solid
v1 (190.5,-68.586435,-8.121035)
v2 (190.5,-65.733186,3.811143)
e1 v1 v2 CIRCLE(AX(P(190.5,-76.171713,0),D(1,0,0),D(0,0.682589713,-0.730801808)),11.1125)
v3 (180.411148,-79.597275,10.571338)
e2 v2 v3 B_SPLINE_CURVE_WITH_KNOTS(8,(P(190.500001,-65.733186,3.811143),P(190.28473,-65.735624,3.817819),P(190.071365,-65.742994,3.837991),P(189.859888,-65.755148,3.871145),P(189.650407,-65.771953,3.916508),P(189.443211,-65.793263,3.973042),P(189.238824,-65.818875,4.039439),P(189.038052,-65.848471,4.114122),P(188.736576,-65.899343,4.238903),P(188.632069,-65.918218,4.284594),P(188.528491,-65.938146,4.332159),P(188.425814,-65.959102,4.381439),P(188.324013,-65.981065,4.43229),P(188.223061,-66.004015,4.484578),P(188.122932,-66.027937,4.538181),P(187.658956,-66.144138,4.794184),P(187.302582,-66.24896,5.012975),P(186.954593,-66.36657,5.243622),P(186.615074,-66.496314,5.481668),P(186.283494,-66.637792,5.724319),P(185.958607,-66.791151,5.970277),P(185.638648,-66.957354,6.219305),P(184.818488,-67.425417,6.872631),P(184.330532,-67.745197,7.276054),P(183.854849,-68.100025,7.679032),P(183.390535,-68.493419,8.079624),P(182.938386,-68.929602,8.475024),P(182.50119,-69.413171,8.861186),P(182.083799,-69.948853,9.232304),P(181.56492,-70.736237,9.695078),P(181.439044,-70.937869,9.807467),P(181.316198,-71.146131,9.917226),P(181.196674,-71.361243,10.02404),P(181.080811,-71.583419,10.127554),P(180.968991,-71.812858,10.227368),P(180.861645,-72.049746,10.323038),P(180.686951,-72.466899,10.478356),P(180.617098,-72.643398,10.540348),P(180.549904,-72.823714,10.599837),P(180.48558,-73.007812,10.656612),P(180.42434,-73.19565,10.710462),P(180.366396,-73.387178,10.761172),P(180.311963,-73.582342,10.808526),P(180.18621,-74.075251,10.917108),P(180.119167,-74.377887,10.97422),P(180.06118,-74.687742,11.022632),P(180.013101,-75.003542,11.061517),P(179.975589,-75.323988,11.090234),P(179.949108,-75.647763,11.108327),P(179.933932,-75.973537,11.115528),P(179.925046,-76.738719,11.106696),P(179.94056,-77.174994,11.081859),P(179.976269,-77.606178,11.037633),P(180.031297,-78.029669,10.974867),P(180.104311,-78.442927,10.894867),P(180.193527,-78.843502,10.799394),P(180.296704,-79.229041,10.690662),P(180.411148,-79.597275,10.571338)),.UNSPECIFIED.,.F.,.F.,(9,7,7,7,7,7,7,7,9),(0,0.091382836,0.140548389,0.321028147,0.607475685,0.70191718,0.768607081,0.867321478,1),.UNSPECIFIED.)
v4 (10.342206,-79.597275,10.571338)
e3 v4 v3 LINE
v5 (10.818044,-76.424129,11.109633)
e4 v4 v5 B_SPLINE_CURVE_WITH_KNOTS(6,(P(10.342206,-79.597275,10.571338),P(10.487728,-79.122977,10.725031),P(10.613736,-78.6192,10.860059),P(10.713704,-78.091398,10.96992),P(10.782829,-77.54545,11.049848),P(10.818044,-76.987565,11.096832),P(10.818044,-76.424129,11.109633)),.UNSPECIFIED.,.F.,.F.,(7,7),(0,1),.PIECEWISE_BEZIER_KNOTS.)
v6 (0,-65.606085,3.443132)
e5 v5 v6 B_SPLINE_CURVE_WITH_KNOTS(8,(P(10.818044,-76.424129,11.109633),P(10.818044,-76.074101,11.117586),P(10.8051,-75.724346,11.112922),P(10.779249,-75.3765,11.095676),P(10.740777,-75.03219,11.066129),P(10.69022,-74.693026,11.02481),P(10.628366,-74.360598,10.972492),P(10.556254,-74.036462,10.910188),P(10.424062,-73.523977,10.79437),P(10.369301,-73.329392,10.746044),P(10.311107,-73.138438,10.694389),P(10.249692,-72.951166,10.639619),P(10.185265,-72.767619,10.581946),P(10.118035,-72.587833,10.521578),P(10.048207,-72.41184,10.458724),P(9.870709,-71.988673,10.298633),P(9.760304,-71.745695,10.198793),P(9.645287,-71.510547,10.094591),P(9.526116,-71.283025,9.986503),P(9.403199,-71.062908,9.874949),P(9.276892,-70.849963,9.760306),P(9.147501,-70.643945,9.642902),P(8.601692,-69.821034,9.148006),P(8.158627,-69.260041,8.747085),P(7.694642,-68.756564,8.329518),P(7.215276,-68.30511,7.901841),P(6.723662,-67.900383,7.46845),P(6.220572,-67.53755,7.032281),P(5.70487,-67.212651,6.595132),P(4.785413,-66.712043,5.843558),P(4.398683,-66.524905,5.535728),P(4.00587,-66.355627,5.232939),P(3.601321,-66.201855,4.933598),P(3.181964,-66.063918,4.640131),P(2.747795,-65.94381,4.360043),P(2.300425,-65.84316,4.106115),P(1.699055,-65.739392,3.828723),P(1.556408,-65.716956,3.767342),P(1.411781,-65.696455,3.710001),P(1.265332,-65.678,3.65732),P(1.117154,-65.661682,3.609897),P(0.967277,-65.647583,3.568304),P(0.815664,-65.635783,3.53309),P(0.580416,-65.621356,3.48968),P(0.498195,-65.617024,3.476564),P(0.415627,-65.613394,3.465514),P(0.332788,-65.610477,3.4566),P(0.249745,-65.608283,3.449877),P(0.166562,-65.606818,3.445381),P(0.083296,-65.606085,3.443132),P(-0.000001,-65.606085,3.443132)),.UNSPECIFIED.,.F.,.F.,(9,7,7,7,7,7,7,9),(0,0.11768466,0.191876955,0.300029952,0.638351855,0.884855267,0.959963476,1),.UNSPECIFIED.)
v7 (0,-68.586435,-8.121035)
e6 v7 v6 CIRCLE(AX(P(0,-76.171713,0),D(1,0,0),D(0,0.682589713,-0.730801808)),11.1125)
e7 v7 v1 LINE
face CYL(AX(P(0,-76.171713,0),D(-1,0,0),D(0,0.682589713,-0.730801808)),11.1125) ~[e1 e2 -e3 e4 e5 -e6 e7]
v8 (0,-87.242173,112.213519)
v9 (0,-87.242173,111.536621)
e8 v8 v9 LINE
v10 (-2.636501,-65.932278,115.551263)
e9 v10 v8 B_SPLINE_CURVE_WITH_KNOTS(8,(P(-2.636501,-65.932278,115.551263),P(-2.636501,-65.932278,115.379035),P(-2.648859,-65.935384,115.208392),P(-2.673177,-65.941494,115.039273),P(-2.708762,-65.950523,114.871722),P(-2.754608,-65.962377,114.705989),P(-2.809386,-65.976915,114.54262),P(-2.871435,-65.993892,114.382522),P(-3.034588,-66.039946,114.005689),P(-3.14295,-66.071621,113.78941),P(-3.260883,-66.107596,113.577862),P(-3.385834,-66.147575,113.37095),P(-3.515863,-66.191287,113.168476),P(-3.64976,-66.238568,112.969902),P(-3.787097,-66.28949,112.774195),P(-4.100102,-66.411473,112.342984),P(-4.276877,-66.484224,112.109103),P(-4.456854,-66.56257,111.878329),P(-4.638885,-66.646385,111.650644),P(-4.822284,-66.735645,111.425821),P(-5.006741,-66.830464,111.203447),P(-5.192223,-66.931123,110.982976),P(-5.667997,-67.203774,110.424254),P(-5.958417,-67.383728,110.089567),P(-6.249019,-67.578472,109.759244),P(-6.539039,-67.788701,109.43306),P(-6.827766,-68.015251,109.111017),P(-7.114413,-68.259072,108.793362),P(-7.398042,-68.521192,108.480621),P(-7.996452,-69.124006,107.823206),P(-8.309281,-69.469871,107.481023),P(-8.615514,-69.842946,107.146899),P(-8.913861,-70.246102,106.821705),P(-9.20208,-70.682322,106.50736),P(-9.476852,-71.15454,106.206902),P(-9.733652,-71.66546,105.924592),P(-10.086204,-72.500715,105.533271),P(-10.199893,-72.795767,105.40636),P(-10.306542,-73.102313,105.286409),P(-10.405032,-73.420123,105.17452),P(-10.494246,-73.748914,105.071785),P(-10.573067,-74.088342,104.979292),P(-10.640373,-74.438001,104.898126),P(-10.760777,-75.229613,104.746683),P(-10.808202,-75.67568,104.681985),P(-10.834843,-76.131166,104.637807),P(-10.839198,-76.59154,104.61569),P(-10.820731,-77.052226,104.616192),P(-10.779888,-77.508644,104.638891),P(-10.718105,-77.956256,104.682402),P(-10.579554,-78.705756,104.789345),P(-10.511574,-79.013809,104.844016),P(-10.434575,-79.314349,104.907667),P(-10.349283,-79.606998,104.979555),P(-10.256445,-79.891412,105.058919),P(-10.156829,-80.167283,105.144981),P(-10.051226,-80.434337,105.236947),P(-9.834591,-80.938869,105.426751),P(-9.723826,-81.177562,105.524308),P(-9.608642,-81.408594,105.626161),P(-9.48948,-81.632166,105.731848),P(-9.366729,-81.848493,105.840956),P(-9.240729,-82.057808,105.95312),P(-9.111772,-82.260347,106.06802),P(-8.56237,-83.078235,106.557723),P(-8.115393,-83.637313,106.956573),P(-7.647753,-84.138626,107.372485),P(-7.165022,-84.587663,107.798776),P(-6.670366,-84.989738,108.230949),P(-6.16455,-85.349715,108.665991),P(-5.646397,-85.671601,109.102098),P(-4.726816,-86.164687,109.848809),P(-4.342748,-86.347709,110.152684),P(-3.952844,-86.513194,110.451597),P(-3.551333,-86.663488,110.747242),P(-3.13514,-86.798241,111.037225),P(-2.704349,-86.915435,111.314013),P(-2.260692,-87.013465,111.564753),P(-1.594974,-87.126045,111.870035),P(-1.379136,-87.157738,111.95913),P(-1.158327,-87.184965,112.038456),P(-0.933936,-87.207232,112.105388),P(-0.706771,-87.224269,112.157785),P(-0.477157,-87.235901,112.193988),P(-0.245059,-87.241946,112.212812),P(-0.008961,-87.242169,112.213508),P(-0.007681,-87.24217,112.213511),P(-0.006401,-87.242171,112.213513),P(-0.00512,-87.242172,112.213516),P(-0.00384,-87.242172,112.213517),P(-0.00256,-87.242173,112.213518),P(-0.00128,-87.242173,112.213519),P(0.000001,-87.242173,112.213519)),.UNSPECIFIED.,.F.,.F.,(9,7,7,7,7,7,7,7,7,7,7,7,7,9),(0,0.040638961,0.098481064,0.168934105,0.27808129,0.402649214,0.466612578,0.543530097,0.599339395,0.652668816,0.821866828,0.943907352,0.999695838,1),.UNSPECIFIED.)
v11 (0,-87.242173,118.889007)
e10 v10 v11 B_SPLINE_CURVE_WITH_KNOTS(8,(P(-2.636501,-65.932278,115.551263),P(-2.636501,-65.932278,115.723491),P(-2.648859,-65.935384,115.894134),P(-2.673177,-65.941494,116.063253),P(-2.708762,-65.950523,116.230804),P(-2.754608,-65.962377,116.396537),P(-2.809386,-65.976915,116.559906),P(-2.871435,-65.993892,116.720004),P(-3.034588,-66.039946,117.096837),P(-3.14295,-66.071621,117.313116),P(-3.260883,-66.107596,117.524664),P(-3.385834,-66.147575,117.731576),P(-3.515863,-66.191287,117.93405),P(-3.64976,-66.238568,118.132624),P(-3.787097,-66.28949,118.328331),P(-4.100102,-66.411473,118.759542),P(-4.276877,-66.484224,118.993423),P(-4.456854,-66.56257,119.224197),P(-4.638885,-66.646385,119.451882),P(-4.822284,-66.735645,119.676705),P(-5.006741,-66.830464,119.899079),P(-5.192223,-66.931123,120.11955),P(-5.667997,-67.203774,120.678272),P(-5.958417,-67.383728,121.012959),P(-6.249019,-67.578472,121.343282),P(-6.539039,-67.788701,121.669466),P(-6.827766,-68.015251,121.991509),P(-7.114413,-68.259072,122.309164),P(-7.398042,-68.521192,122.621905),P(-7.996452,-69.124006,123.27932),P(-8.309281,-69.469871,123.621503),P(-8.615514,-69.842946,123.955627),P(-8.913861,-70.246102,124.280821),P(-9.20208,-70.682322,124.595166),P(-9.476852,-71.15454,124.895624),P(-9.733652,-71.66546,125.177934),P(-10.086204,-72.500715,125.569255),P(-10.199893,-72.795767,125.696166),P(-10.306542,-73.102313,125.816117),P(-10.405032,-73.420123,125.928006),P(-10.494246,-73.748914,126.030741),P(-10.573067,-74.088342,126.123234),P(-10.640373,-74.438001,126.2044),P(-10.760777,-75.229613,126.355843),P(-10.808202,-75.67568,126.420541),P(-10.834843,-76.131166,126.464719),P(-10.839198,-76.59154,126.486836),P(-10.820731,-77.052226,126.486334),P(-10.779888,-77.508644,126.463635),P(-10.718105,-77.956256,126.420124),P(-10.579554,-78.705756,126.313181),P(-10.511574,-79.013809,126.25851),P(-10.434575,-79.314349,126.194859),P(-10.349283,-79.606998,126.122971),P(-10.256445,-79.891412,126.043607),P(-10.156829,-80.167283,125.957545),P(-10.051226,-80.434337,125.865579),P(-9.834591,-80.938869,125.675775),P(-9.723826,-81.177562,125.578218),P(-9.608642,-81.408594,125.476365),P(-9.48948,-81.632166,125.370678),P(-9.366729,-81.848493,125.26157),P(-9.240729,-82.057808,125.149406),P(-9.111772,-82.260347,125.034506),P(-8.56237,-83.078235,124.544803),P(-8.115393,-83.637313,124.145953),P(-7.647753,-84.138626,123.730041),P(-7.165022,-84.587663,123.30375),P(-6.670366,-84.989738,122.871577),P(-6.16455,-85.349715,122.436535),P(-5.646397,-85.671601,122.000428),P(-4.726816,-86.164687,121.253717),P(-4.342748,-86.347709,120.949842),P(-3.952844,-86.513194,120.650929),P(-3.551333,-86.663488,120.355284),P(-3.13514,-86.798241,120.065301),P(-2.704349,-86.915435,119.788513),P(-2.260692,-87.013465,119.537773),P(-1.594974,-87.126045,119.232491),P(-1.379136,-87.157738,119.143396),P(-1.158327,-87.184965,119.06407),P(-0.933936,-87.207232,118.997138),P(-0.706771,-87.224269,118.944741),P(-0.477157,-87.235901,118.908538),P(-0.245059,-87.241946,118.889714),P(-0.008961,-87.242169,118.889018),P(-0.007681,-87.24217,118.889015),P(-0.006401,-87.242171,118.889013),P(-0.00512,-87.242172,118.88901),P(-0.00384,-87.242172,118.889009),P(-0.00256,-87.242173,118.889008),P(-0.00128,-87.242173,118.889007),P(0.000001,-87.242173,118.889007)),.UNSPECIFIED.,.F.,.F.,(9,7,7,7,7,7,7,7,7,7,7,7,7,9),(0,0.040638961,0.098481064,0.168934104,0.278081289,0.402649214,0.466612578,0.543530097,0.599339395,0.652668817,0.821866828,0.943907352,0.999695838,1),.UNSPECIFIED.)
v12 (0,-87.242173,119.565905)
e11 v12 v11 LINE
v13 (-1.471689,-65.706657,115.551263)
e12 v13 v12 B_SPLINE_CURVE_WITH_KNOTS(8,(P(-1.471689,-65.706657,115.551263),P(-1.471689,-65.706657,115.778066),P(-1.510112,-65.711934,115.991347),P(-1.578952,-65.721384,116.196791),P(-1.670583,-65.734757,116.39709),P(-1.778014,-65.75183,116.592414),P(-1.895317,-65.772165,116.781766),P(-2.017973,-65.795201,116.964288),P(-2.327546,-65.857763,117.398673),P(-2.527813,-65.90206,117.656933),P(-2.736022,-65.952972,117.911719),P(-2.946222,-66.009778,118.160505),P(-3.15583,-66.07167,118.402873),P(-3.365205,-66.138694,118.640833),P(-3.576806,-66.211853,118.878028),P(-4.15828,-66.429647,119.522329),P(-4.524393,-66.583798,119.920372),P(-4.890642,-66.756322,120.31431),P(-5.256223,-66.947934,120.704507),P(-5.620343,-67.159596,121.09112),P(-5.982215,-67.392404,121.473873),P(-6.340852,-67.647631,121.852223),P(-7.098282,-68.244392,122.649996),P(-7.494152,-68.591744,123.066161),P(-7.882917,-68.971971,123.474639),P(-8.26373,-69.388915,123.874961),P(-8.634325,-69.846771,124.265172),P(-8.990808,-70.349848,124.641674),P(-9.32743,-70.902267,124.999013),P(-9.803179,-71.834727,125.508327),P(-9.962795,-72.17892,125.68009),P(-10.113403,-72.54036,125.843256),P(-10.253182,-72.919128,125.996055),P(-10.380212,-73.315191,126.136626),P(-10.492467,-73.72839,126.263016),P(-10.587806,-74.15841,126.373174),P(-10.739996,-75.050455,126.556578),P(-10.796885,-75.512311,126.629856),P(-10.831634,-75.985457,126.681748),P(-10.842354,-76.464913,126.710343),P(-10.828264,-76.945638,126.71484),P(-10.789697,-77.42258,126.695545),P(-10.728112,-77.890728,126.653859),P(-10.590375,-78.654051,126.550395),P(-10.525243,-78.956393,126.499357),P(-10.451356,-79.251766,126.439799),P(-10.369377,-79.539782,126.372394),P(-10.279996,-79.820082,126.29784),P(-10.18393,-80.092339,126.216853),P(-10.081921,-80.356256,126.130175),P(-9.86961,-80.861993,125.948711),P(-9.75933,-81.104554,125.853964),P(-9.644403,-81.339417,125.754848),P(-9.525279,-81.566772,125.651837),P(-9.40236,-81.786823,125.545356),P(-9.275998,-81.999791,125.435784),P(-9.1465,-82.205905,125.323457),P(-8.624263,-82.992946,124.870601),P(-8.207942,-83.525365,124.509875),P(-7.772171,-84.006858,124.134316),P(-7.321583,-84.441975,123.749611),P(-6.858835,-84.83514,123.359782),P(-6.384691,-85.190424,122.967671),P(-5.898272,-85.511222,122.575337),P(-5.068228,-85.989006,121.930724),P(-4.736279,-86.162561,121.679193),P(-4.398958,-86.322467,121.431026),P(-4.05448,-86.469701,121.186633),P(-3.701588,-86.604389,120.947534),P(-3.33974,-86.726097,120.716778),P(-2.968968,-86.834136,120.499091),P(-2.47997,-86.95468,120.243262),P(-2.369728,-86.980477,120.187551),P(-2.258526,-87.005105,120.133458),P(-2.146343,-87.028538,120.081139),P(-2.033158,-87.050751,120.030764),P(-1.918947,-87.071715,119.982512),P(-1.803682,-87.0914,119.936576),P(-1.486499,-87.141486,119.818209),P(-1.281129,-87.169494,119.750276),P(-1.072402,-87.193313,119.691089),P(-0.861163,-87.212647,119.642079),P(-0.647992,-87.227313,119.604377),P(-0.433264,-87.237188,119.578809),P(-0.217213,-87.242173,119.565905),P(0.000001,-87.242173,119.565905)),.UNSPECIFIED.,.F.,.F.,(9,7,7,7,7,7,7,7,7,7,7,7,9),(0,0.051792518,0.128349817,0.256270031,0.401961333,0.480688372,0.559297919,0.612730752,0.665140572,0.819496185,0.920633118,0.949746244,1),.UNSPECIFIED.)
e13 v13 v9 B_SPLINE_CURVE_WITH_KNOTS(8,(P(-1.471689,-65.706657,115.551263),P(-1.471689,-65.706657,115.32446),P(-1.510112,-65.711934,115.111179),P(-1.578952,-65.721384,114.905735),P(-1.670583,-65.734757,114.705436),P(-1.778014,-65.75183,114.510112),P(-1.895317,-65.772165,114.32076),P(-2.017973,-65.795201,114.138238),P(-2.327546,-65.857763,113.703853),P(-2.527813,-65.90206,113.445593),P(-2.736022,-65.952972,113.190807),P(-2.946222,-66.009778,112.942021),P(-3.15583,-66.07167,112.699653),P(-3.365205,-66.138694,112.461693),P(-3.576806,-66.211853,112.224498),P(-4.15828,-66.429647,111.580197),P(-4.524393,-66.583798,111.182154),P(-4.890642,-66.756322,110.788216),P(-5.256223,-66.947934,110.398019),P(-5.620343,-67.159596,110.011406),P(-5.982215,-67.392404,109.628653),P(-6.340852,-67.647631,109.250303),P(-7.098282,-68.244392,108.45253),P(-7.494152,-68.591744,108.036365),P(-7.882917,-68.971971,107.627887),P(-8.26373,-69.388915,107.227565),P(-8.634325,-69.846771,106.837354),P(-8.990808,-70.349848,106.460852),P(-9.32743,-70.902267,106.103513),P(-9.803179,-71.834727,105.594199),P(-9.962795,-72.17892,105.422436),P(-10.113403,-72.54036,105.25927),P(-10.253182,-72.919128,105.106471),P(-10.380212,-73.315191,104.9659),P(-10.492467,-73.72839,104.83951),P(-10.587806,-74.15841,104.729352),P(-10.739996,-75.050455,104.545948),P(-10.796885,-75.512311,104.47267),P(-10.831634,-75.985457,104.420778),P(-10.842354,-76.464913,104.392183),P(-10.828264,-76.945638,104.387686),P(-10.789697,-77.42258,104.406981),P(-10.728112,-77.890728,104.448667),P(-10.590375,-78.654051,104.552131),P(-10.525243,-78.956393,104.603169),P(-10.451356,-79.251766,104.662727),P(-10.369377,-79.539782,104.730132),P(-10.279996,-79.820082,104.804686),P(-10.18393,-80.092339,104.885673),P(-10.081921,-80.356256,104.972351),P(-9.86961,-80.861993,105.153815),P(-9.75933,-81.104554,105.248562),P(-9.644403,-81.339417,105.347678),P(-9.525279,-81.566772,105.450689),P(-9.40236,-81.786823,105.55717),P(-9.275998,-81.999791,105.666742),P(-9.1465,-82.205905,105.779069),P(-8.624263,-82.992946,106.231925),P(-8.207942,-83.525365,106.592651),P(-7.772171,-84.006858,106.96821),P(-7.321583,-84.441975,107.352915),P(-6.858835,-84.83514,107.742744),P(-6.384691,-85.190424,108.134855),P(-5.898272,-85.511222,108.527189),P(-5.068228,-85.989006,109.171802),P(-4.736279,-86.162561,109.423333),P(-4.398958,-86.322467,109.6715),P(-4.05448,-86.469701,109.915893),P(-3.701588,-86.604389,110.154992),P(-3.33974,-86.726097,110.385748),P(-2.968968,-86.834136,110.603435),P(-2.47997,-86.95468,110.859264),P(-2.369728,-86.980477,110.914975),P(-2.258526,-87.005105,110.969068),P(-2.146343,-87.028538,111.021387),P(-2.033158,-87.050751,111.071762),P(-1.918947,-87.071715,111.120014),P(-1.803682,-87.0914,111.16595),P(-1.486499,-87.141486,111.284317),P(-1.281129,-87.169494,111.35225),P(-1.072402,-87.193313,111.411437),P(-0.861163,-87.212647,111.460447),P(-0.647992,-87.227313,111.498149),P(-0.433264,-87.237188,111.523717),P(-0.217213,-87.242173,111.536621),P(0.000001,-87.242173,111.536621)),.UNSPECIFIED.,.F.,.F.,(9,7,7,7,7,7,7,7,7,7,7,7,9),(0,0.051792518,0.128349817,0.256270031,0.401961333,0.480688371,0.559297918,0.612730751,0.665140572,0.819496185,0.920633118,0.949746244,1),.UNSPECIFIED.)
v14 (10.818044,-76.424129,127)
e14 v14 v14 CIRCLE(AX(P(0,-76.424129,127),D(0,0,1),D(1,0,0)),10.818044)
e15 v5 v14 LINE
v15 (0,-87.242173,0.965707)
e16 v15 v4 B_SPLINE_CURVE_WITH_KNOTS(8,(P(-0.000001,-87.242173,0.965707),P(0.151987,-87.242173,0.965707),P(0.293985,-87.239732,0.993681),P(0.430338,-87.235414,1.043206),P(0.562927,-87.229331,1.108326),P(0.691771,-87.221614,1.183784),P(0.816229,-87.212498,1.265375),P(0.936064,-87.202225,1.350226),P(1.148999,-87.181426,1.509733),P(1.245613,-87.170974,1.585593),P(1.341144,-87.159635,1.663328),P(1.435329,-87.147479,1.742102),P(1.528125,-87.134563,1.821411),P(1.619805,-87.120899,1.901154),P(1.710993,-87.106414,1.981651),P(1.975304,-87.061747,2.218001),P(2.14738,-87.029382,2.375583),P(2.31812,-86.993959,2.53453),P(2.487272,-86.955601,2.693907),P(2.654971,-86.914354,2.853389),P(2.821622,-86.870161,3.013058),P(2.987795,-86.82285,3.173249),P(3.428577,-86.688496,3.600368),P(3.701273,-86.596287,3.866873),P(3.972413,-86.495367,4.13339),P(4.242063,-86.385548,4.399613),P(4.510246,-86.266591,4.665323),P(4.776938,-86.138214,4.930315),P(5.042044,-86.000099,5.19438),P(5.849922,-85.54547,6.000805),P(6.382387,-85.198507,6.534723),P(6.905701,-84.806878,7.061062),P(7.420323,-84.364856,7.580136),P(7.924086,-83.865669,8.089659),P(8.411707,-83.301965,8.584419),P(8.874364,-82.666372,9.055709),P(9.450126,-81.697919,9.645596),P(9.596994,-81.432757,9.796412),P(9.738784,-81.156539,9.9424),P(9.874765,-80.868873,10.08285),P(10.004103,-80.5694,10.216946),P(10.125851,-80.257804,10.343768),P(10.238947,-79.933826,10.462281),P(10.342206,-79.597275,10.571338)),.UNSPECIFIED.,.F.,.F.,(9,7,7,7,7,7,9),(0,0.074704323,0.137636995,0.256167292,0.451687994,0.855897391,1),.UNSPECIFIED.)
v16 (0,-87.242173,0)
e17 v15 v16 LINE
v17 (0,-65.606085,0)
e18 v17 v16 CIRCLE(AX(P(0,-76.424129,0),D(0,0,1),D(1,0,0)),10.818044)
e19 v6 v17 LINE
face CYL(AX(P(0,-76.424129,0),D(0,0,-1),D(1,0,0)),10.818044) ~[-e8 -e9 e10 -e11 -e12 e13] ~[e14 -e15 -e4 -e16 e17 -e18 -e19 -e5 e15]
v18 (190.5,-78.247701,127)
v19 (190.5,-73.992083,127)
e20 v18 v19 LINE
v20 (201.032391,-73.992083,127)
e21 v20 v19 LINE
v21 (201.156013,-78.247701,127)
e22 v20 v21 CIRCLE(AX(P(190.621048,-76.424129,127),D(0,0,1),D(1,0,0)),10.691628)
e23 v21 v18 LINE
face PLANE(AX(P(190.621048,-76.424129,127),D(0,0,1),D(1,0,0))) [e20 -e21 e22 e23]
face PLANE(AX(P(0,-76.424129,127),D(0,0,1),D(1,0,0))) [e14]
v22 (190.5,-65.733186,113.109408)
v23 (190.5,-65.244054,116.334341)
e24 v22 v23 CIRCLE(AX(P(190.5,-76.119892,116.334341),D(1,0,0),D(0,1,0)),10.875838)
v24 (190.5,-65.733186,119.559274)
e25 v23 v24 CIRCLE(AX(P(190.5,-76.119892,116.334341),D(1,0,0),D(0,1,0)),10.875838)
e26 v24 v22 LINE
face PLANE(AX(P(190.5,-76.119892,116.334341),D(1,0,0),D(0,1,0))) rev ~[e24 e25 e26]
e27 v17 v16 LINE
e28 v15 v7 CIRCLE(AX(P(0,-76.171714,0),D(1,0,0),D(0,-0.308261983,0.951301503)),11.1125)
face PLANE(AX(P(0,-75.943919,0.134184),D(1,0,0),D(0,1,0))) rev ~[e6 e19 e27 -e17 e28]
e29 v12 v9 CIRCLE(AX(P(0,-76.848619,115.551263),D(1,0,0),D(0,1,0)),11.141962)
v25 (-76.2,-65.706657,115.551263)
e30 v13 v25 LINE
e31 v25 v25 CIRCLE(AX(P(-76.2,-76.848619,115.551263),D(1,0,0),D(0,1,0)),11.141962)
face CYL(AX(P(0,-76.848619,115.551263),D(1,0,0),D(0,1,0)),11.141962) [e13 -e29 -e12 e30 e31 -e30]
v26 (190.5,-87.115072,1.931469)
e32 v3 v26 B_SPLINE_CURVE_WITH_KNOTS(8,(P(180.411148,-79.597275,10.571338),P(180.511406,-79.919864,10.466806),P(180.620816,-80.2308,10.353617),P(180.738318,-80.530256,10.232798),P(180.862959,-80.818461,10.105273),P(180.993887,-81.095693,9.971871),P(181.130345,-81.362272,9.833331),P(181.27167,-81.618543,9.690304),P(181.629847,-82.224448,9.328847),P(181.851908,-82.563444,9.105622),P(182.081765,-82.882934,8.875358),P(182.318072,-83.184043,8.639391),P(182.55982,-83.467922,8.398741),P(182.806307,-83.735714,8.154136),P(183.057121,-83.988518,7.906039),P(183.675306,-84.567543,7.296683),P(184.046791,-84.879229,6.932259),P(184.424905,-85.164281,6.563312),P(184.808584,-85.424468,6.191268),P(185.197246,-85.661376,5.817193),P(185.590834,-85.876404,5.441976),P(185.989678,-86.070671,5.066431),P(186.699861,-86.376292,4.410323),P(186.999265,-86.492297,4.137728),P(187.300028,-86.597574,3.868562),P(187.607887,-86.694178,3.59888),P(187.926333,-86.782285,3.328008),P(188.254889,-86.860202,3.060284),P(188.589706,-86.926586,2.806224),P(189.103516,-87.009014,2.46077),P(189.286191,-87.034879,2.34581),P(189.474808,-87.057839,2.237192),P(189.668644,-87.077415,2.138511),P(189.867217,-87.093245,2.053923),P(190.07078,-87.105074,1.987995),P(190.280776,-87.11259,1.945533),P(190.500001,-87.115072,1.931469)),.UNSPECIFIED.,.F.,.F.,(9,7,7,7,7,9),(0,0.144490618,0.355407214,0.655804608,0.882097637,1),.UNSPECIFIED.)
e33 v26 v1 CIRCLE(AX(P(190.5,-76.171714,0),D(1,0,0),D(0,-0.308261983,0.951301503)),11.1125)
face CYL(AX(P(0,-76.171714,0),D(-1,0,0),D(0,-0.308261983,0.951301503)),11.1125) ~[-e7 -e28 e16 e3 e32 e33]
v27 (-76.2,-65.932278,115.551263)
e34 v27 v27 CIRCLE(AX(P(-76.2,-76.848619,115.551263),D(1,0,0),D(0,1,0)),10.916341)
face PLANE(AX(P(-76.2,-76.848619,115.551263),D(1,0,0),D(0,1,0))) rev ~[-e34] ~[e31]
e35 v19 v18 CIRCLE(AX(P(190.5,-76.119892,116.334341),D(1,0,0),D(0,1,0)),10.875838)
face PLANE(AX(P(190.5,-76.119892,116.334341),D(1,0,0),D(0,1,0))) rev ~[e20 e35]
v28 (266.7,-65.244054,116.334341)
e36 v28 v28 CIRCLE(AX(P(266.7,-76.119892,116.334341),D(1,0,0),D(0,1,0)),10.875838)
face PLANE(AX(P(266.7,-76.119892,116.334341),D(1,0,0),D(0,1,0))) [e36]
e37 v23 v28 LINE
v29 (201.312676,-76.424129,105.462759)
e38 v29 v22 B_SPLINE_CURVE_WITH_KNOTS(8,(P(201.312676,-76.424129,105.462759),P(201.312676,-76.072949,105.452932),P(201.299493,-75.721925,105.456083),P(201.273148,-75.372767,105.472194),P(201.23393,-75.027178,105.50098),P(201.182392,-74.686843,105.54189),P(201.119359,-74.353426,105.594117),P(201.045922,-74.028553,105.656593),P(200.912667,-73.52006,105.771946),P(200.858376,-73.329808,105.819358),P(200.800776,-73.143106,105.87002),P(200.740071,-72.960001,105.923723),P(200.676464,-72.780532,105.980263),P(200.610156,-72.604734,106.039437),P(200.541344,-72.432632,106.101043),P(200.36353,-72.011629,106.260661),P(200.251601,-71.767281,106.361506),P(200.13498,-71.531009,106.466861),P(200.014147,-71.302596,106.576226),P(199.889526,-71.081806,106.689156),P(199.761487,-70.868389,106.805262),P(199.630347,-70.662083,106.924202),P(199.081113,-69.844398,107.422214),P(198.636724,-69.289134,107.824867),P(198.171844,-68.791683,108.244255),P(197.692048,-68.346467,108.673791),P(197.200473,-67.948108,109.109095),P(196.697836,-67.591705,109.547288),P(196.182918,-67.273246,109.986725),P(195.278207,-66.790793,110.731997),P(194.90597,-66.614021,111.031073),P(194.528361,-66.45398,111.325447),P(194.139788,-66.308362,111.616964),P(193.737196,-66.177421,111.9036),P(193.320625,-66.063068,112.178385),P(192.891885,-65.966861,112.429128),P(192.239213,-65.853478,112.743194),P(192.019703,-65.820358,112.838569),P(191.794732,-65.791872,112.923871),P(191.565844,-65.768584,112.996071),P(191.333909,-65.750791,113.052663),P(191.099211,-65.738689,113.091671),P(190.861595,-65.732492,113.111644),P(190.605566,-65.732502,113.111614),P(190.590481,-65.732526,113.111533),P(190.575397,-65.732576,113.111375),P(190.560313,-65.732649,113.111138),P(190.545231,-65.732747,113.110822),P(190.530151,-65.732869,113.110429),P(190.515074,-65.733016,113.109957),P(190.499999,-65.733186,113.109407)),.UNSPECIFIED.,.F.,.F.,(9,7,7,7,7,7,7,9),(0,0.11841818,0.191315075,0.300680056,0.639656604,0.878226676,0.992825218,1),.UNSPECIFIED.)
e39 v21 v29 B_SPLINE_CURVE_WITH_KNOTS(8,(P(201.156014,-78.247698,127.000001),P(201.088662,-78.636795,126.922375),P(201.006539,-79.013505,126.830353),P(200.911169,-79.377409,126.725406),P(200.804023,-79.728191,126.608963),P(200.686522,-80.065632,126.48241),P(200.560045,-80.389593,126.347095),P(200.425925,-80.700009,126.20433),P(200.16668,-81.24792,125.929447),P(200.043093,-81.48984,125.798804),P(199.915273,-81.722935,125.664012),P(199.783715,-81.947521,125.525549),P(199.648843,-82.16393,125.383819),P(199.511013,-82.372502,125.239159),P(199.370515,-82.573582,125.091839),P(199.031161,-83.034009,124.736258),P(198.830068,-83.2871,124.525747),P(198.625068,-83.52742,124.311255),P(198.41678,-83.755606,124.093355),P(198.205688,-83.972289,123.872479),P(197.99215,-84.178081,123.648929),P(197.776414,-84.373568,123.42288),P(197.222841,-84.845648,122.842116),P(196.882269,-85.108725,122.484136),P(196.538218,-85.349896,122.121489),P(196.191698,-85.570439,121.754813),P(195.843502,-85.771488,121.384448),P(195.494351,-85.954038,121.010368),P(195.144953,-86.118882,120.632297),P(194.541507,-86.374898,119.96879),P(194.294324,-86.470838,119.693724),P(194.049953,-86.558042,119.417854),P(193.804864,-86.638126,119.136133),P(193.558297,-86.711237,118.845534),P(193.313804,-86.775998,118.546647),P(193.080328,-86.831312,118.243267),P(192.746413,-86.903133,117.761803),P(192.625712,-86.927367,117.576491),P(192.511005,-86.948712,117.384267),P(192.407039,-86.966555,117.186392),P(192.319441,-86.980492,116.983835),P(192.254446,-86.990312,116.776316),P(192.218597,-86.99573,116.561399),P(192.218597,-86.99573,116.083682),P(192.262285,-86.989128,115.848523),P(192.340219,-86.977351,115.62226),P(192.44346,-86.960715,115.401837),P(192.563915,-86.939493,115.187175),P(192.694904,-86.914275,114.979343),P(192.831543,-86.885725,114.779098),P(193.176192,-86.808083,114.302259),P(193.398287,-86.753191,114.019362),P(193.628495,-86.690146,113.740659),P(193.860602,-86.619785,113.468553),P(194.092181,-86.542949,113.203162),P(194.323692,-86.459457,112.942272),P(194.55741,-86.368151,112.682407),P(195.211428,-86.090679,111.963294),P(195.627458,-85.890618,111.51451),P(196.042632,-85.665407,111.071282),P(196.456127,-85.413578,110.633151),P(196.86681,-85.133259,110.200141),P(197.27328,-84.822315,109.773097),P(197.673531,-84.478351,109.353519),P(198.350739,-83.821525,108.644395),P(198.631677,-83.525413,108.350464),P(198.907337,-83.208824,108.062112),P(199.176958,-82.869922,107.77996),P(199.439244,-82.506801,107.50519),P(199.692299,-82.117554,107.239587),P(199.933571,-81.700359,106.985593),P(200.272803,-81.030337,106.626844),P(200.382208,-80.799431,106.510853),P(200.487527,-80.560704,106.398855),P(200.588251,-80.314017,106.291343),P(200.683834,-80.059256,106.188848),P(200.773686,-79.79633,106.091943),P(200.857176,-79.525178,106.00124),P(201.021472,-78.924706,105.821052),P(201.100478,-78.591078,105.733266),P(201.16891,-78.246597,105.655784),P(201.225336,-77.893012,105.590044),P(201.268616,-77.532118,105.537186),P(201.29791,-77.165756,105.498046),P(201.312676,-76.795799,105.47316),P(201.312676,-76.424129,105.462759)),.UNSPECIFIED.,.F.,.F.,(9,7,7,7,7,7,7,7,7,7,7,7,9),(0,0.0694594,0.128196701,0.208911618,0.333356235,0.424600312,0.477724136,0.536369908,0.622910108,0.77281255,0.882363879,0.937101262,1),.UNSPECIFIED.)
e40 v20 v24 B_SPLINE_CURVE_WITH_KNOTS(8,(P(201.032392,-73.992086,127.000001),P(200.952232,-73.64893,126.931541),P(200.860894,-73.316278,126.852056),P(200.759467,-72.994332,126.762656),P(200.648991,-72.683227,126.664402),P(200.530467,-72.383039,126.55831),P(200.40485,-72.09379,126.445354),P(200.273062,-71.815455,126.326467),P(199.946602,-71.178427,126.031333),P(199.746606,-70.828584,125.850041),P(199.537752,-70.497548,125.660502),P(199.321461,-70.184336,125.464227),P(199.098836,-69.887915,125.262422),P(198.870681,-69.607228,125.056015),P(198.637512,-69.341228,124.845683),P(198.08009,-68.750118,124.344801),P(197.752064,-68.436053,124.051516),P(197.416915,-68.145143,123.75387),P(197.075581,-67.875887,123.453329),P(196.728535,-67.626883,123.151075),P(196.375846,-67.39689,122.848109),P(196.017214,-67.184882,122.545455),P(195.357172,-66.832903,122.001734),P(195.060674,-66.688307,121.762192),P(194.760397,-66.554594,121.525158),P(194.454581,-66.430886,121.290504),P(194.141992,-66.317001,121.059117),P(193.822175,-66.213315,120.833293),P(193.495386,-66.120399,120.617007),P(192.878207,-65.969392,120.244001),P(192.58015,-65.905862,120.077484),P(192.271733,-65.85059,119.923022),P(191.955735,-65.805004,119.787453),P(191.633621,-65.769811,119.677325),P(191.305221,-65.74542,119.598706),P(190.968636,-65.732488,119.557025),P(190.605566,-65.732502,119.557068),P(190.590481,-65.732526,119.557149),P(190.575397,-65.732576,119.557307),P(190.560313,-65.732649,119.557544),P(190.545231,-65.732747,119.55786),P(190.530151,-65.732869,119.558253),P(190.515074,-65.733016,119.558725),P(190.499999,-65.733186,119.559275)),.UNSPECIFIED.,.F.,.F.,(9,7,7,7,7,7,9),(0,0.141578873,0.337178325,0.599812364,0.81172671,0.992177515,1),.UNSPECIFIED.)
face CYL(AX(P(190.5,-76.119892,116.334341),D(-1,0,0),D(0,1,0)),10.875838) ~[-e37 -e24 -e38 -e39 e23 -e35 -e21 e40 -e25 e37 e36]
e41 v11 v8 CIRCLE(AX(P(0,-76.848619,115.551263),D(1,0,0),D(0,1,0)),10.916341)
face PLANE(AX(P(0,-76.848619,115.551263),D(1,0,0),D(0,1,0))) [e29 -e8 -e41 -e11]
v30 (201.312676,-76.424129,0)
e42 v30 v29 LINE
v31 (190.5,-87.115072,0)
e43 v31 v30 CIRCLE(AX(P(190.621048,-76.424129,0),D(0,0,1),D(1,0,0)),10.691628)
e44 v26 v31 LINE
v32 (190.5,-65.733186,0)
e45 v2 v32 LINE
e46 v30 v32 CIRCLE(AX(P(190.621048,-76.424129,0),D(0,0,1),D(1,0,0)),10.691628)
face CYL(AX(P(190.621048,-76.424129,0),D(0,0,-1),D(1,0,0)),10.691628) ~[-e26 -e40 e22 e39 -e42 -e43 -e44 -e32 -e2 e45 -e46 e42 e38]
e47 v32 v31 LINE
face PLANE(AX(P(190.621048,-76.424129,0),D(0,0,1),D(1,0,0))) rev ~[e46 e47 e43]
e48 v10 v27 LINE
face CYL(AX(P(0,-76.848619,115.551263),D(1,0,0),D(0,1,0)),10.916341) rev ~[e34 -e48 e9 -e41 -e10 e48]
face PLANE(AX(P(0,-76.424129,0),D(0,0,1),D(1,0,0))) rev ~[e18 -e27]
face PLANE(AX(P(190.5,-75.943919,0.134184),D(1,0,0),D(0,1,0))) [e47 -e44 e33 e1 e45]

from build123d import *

# Parameters (mm, degrees)
F1_DEPTH = 190.5
F2_R     = 10.818044
F3_DEPTH = 127
F2_R_2   = 10.691628
F4_DEPTH = 127
F5_R     = 11.141962
F5_R_2   = 10.916341
F6_DEPTH = 76.2
F7_R     = 10.875838
F8_DEPTH = 76.2


with BuildPart() as f1:
    # F0 (on Right) → F1 (new body)
    with BuildSketch(Plane.YZ):
        with BuildLine():
            ThreePointArc((-79.597275, 10.571338), (-85.746525, -5.640093), (-68.586435, -8.121035))
            ThreePointArc((-68.586435, -8.121035), (-66.596902, 5.640093), (-79.597275, 10.571338))
        make_face()
    extrude(amount=F1_DEPTH)

    # F2 (on Top) → F3 (join)
    with BuildSketch(Plane.XY):
        with Locations((0, -76.424129)):
            Circle(F2_R)
    extrude(amount=F3_DEPTH)

    # F2 (on Top) → F4 (join)
    with BuildSketch(Plane.XY):
        with Locations((0, -76.424129)):
            Circle(F2_R)
        with Locations((190.621048, -76.424129)):
            Circle(F2_R_2)
    extrude(amount=F4_DEPTH)

    # F5 (on Right) → F6 (join)
    with BuildSketch(Plane.YZ):
        with Locations((-76.848619, 115.551263)):
            Circle(F5_R)
        with Locations((-76.848619, 115.551263)):
            Circle(F5_R_2, mode=Mode.SUBTRACT)
    extrude(amount=-F6_DEPTH)

    # F7 (on face) → F8 (join)
    with BuildSketch(Plane.YZ.offset(190.5)):
        with Locations((-76.119892, 116.334341)):
            Circle(F7_R)
    extrude(amount=F8_DEPTH)


solid = f1.part
